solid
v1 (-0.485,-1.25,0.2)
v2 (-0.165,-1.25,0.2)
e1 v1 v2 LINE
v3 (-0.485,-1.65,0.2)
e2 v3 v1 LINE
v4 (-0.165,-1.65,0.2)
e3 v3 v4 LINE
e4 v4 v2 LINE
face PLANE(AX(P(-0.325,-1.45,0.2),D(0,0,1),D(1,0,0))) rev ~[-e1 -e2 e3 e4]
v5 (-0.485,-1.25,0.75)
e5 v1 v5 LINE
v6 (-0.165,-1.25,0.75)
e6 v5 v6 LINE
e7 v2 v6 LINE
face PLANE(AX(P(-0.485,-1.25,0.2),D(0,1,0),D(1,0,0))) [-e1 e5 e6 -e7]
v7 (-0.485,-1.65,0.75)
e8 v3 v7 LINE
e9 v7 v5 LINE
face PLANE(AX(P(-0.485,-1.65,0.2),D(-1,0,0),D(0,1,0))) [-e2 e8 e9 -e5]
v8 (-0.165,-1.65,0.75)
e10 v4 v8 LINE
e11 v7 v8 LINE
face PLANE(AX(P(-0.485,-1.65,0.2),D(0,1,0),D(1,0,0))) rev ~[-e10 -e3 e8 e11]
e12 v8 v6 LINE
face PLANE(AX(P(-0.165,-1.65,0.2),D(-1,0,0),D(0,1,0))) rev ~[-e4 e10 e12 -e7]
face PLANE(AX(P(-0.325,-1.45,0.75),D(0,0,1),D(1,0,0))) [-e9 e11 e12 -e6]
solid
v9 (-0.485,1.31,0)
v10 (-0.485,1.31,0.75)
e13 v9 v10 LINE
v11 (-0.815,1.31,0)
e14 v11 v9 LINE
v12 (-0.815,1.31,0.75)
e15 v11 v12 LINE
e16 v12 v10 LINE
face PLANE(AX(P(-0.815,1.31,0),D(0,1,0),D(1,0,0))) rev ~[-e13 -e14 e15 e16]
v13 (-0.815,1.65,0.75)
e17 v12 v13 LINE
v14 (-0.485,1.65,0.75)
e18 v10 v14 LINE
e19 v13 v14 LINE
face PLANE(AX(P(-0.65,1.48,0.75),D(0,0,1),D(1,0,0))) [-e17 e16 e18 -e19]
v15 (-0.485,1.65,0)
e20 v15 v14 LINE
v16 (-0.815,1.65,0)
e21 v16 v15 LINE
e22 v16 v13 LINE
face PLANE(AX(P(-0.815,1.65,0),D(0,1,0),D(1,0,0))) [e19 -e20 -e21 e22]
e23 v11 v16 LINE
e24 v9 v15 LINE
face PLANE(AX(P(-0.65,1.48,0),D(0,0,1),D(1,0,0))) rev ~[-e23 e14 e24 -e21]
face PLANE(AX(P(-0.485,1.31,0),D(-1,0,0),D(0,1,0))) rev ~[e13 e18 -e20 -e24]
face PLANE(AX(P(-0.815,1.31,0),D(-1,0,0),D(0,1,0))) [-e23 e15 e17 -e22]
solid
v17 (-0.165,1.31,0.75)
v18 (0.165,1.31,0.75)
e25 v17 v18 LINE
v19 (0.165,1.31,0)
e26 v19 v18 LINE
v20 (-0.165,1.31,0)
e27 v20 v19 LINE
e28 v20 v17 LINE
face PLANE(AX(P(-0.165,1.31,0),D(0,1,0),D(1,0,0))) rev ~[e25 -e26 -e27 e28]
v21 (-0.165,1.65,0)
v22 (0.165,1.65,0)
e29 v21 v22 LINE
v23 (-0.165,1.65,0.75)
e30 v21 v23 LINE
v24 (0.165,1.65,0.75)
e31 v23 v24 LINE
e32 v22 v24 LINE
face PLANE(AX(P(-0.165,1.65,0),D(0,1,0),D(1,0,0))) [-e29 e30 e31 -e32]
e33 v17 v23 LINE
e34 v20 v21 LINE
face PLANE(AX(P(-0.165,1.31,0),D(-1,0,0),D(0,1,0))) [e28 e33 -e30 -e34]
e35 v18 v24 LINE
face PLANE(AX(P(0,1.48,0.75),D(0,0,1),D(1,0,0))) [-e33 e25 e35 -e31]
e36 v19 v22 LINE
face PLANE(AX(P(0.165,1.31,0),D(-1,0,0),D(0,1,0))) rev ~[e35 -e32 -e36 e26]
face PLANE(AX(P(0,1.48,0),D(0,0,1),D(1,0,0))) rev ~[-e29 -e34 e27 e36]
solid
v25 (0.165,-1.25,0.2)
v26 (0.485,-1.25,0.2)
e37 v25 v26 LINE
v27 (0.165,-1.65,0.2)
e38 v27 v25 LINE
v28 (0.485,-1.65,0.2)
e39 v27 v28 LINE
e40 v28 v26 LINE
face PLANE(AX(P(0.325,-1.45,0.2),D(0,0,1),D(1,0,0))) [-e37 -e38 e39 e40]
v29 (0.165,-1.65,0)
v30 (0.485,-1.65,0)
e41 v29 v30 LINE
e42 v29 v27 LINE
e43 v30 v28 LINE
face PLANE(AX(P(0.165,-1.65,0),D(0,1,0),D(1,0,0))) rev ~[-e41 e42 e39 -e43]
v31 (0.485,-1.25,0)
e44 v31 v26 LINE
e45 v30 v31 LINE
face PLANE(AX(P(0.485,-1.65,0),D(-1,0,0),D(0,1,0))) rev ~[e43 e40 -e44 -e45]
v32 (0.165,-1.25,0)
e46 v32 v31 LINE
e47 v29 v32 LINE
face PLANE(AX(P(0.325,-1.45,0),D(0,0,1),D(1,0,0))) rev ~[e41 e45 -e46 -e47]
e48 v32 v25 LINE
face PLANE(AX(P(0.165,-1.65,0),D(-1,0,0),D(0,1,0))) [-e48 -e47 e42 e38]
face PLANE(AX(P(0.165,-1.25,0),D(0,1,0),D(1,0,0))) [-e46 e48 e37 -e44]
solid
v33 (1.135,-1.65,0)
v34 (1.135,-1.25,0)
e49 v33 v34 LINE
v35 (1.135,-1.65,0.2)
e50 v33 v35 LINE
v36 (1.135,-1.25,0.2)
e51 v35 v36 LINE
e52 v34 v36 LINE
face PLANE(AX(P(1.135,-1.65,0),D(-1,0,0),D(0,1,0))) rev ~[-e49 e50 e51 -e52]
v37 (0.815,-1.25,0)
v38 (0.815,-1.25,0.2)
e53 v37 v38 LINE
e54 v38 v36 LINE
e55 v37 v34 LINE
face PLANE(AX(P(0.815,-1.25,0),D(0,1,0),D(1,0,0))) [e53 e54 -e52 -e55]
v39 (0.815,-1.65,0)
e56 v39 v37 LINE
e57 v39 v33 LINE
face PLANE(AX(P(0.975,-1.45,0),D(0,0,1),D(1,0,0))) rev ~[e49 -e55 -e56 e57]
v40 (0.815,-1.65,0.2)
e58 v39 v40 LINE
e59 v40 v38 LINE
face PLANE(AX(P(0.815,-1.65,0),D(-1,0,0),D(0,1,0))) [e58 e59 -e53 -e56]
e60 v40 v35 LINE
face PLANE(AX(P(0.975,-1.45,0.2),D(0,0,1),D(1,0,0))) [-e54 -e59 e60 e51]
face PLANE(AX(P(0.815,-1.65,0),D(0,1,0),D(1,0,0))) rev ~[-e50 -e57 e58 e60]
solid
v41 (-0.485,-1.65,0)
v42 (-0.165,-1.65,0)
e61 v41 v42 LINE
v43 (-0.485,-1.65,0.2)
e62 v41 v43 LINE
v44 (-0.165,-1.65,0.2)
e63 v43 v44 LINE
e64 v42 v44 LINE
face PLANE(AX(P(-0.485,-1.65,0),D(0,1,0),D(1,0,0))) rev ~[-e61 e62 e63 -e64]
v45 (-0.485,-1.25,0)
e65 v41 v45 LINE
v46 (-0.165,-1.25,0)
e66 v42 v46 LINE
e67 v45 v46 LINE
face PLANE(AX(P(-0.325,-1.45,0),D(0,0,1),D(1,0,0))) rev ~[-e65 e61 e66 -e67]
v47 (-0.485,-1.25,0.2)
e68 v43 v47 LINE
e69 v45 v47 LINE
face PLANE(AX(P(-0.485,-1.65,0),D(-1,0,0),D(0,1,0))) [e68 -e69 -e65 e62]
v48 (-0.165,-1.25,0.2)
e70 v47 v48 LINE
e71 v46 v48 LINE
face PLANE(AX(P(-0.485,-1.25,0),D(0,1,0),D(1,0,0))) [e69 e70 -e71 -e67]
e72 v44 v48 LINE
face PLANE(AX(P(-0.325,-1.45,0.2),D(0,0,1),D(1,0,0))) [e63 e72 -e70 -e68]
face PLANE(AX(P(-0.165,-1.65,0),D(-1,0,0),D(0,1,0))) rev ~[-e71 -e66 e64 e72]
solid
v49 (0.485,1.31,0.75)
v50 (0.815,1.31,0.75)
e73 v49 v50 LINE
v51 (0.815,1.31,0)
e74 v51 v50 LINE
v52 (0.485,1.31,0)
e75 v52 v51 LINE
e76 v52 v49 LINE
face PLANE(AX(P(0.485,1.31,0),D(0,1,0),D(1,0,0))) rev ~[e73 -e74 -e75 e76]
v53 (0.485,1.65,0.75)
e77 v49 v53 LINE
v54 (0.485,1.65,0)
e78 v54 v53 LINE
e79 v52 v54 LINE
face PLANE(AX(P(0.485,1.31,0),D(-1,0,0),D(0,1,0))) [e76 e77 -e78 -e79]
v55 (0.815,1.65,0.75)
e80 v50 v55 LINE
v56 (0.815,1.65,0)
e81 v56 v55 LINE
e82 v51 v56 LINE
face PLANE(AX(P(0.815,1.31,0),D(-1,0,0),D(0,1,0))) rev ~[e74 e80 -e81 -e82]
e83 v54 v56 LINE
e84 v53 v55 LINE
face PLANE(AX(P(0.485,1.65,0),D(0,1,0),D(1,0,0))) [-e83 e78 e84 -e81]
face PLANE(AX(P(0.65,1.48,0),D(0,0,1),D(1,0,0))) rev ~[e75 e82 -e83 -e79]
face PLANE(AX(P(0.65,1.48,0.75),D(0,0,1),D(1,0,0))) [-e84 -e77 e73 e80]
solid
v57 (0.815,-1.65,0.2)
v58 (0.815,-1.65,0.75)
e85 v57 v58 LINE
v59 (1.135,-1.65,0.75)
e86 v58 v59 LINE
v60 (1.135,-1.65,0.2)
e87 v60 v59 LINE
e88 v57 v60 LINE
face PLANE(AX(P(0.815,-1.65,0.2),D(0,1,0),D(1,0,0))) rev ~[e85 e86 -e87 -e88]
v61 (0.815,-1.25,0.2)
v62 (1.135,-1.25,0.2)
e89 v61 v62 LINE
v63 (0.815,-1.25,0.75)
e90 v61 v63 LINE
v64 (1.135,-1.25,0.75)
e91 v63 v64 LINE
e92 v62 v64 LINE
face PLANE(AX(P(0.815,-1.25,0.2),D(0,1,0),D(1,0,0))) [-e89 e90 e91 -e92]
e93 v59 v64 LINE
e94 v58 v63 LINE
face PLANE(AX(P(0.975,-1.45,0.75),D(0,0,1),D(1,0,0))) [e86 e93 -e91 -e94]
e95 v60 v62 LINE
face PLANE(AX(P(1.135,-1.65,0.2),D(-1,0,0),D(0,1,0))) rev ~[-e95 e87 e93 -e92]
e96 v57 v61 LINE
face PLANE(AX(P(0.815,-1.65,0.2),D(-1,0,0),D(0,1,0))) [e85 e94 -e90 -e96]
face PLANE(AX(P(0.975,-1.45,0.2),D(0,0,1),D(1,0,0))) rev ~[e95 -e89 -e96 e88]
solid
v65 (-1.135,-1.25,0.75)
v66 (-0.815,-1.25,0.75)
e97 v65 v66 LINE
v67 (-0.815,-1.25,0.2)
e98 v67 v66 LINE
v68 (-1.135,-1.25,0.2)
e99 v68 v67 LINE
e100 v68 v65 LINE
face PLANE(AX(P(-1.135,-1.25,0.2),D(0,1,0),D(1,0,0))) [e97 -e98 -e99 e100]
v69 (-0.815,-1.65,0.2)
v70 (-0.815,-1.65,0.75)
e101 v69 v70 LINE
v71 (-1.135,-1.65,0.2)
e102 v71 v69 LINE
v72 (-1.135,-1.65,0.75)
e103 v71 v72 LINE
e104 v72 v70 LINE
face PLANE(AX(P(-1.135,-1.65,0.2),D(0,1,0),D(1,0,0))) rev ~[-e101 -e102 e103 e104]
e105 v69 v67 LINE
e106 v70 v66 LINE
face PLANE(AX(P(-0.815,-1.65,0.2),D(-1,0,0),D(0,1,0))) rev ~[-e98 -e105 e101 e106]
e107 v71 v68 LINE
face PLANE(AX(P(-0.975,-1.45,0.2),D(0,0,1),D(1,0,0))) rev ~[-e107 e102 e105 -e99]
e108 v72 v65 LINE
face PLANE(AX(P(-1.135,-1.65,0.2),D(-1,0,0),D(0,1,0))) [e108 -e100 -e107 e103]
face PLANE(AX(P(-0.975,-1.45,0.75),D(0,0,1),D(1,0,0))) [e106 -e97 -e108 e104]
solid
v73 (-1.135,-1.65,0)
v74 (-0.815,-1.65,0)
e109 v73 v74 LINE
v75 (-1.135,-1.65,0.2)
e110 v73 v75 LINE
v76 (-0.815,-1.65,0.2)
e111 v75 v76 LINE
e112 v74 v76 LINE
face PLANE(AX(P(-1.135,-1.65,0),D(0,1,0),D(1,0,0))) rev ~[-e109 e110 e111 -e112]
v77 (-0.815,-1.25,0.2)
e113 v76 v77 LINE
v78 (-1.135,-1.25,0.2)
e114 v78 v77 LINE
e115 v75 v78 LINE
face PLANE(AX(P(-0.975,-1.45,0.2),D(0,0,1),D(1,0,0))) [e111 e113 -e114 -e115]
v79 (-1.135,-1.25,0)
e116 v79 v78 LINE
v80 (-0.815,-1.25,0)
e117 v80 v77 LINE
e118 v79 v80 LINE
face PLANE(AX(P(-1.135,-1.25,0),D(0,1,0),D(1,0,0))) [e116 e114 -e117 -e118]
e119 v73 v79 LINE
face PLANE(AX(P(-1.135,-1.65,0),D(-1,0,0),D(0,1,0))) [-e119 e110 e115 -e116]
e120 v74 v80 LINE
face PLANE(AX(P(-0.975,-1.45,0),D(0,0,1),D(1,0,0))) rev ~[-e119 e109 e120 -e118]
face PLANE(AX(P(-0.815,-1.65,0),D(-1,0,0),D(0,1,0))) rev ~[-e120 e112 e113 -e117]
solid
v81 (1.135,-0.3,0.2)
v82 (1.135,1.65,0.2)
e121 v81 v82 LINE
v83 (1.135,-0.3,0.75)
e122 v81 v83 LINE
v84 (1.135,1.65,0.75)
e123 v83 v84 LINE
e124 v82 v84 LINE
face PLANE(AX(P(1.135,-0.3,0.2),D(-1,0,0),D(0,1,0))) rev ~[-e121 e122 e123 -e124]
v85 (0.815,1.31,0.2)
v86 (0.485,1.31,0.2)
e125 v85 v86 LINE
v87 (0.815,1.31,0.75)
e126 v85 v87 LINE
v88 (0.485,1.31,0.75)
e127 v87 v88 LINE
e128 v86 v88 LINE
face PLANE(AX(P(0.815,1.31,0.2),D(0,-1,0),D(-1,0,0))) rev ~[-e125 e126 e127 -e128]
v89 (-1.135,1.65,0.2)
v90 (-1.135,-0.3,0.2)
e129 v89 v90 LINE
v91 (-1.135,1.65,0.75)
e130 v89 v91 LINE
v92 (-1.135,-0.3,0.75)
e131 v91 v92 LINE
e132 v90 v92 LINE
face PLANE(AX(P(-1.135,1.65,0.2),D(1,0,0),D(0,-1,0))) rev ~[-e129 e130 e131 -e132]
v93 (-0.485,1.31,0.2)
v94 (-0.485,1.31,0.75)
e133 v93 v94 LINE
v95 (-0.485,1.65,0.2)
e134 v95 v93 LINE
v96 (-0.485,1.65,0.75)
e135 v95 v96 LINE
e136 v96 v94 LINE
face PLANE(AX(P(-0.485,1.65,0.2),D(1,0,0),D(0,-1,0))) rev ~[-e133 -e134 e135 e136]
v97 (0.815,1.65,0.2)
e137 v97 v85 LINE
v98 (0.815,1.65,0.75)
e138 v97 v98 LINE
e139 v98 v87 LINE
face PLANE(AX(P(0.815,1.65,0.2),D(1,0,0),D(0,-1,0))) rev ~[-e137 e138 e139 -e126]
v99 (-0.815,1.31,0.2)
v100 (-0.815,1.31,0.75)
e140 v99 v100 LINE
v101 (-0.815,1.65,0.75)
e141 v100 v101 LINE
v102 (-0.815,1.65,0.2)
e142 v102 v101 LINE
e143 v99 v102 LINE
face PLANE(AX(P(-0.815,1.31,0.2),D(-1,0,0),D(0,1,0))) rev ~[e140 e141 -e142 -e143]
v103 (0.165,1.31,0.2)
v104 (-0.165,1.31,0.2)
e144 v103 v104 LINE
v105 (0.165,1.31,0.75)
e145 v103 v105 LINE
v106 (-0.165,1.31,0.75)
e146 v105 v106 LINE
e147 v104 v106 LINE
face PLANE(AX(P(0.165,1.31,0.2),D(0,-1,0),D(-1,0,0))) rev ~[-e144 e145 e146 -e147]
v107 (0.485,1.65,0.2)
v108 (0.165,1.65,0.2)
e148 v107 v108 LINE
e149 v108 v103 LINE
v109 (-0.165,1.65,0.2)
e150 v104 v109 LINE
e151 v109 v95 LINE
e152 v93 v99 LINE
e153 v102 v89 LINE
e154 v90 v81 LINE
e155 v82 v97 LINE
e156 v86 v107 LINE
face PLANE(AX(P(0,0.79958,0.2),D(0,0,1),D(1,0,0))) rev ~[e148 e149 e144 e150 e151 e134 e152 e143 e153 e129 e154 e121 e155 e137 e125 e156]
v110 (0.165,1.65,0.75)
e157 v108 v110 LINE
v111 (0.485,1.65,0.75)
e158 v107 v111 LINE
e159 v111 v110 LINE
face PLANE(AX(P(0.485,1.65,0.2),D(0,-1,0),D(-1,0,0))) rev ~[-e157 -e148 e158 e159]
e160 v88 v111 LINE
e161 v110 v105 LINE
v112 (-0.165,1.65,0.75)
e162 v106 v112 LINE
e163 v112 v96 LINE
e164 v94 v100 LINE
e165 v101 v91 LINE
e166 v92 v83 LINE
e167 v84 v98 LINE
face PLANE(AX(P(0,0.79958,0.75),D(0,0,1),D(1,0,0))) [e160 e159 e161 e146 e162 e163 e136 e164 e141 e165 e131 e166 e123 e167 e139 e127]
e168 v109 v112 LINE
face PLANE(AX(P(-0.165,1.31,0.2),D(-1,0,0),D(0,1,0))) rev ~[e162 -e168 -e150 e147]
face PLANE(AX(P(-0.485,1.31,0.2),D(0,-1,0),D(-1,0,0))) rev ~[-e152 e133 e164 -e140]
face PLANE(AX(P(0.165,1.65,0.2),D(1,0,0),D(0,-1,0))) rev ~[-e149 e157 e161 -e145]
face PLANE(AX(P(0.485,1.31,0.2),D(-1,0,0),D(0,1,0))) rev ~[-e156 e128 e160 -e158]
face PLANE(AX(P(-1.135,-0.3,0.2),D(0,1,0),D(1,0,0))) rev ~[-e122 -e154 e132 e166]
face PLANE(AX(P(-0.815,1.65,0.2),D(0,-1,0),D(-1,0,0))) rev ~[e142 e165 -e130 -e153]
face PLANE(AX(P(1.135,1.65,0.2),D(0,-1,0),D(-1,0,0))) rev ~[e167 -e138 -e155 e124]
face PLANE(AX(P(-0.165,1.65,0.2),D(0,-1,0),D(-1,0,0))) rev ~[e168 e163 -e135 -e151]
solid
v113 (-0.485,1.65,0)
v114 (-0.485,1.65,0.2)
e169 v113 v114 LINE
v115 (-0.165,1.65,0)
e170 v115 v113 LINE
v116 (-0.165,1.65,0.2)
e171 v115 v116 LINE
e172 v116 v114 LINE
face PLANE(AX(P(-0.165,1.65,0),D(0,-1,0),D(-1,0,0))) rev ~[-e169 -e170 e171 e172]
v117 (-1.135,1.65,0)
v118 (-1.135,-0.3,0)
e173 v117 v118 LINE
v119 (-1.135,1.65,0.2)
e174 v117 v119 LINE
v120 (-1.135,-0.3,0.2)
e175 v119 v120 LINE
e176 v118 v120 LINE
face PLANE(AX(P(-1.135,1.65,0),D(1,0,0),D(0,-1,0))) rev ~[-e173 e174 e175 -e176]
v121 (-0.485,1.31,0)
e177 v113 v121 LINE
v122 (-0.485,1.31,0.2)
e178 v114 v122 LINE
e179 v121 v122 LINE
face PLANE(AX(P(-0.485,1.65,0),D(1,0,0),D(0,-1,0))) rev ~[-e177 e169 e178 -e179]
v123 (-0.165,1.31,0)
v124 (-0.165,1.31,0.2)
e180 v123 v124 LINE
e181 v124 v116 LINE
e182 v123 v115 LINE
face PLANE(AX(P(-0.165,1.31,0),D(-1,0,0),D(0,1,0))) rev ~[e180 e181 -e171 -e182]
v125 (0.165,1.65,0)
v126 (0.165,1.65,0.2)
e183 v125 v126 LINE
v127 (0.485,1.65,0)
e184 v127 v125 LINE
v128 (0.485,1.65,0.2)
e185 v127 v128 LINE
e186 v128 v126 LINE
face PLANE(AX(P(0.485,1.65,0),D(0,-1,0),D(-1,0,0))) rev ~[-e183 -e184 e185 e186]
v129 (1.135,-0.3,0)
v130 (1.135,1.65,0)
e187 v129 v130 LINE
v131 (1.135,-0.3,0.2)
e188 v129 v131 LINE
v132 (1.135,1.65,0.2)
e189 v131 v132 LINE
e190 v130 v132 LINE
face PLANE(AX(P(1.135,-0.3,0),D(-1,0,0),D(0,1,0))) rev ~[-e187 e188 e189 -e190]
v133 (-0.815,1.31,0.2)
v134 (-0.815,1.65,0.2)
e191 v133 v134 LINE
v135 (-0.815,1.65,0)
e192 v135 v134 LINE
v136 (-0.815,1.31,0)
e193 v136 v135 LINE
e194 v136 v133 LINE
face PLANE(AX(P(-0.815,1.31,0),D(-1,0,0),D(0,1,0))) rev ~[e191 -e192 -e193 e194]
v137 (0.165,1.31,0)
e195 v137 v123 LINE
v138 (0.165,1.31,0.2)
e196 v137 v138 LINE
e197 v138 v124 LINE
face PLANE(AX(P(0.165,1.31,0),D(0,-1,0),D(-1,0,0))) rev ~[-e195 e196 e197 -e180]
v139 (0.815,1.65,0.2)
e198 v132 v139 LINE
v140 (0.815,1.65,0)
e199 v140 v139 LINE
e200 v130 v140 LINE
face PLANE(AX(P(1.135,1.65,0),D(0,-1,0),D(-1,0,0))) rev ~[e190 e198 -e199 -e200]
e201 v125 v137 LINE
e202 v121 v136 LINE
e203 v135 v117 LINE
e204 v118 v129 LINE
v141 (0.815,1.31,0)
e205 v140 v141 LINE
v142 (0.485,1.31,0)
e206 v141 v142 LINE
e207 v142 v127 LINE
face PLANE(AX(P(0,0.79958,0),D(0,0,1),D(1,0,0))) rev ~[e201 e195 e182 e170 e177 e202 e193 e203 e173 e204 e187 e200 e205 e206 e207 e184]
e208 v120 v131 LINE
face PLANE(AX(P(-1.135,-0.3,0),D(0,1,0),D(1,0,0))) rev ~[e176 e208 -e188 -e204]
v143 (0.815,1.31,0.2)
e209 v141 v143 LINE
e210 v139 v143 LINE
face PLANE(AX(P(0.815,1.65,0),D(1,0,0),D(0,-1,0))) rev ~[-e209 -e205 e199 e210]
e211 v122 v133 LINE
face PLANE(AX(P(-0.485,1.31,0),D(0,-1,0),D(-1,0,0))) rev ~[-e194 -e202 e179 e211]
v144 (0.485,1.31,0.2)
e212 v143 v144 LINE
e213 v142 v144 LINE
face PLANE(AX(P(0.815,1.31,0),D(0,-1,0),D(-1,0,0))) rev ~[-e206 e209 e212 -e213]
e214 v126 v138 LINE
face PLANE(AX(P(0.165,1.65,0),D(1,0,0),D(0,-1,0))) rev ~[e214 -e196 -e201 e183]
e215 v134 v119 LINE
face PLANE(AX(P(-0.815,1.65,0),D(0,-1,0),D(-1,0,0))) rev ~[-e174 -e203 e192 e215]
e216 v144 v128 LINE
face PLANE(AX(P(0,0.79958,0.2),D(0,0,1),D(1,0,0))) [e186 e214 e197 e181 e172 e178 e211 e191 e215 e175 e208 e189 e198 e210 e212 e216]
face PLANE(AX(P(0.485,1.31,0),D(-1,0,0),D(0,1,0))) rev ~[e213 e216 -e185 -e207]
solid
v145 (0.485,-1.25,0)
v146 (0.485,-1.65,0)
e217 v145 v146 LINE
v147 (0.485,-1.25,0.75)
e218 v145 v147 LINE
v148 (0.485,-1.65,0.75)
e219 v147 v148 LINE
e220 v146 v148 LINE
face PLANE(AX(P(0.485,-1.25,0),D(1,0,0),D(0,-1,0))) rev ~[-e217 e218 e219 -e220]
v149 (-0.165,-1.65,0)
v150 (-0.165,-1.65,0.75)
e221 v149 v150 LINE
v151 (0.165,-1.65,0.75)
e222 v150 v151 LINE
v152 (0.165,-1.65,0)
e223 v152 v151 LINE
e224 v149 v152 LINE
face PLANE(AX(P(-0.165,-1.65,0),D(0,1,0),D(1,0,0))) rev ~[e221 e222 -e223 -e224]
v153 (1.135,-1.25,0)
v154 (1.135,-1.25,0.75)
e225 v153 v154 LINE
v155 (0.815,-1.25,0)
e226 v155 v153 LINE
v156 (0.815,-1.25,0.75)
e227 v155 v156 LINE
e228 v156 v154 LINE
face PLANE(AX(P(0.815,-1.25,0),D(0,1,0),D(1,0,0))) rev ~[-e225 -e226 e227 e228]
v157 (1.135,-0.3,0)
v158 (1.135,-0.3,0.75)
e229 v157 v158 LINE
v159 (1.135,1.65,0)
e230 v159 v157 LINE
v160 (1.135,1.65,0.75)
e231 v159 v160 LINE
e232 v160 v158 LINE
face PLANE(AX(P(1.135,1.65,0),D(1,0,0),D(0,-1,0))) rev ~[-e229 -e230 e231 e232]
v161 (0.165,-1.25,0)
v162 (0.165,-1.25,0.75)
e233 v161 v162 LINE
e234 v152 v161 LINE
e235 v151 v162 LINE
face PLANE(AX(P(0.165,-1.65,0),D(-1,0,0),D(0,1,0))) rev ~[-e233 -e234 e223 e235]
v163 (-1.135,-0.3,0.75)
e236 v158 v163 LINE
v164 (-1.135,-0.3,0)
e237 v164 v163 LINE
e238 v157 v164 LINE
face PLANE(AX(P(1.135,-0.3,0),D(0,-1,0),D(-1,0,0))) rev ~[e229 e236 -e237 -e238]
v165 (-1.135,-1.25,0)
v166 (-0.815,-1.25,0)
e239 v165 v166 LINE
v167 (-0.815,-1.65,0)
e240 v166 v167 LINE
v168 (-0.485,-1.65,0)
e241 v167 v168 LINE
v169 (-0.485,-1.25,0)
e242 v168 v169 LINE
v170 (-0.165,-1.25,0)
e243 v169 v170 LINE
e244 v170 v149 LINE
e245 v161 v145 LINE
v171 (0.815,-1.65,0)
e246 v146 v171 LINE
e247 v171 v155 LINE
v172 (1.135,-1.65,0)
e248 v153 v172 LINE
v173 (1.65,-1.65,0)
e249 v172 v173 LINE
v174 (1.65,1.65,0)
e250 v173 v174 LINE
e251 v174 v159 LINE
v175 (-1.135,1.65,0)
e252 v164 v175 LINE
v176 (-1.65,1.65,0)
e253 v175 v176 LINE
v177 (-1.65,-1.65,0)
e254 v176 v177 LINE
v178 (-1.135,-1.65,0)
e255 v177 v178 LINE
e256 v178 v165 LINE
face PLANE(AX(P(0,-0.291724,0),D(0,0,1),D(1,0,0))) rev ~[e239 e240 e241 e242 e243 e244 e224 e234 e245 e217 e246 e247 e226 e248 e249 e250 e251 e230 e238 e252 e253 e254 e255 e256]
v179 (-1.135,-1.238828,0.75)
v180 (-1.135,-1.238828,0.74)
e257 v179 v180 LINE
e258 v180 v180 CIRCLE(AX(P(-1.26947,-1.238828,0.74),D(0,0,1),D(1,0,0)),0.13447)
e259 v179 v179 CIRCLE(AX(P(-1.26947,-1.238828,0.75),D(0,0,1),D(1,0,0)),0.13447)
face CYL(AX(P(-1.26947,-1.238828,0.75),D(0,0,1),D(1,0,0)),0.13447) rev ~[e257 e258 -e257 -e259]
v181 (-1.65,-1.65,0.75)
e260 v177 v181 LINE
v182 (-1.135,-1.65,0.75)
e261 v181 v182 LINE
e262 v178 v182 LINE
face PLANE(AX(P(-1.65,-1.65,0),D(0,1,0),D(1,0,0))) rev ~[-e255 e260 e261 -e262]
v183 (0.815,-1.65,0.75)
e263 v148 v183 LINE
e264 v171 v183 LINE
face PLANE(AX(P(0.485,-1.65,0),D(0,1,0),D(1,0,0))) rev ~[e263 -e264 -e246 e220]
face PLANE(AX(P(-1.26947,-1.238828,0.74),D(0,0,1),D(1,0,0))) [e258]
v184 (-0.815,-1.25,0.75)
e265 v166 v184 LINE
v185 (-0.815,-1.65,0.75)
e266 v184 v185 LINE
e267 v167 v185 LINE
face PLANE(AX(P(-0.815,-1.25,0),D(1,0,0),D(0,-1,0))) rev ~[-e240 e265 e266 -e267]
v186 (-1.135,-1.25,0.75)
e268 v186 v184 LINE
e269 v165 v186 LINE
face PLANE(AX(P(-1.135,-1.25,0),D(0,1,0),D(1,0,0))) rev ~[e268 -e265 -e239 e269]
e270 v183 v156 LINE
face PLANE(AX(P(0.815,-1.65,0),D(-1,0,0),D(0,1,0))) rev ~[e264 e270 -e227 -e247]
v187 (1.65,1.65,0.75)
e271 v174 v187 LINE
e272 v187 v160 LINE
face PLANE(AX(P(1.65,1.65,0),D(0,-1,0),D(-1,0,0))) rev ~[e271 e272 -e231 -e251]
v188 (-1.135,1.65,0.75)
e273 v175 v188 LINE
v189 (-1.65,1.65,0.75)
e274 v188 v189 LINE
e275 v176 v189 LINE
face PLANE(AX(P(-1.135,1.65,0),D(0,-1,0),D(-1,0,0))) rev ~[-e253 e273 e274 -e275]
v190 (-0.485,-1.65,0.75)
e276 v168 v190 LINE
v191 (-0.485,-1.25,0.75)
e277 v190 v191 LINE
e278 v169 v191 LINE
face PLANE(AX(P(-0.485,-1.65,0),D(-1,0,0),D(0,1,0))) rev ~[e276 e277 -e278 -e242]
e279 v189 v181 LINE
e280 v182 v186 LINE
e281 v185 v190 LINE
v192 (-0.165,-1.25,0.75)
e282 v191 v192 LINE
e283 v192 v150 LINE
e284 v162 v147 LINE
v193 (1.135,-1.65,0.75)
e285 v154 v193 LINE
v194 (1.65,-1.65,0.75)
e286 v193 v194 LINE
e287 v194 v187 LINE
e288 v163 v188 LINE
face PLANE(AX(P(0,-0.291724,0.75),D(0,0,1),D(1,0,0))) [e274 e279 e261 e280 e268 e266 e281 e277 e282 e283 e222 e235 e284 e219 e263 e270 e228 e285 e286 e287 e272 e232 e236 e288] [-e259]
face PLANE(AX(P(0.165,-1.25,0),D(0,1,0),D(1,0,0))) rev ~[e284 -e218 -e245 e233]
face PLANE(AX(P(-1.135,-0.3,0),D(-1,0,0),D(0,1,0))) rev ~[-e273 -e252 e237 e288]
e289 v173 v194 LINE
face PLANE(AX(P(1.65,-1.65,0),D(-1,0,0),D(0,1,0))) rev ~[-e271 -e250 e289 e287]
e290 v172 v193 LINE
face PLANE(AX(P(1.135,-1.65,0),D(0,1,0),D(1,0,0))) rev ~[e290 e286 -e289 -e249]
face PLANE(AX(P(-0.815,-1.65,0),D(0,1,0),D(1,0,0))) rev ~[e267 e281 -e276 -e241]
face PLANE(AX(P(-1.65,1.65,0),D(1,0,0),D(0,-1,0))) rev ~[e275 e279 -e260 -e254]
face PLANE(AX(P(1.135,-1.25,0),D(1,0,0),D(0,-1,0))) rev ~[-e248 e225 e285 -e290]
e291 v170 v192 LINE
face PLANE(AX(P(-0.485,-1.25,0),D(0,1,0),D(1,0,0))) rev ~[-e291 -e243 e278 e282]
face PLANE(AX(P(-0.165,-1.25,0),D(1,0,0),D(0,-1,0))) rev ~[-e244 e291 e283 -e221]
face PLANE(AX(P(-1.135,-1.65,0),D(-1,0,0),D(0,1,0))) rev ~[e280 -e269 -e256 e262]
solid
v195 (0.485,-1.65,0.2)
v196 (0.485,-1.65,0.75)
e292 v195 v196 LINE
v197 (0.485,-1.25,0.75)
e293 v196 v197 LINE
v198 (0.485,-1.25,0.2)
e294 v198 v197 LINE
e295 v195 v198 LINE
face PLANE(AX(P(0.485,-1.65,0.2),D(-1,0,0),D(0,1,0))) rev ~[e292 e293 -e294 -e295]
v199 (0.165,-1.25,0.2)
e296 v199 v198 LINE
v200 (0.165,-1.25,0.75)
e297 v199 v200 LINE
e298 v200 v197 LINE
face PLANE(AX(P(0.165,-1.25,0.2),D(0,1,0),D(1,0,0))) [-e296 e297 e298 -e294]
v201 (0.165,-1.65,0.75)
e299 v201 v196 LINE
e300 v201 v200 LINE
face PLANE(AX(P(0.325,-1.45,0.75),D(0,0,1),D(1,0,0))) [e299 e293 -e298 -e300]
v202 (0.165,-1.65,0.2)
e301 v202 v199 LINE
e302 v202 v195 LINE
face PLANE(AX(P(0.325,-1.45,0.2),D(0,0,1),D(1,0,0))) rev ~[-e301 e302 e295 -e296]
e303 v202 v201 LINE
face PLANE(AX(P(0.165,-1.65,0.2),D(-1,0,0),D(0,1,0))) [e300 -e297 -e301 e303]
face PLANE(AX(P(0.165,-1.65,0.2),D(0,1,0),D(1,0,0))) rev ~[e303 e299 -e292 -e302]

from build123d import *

# Parameters (mm, degrees)
BOSS_EXTRUDE1_DEPTH   = 0.2
SKETCH1_W             = 0.32
SKETCH1_H             = 0.4
BOSS_EXTRUDE1_2_DEPTH = 0.2
BOSS_EXTRUDE1_3_DEPTH = 0.2
BOSS_EXTRUDE1_4_DEPTH = 0.2
BOSS_EXTRUDE1_5_DEPTH = 0.2
BOSS_EXTRUDE4_DEPTH   = 0.75
SKETCH1_5_W           = 0.33
SKETCH1_5_H           = 0.34
BOSS_EXTRUDE4_2_DEPTH = 0.75
BOSS_EXTRUDE4_3_DEPTH = 0.75
BOSS_EXTRUDE4_4_DEPTH = 0.75
BOSS_EXTRUDE7_START   = 0.2
BOSS_EXTRUDE7_DEPTH   = 0.55
SKETCH1_7_W           = 0.32
SKETCH1_7_H           = 0.4
BOSS_EXTRUDE7_2_DEPTH = 0.55
BOSS_EXTRUDE7_3_DEPTH = 0.55
BOSS_EXTRUDE7_4_DEPTH = 0.55
BOSS_EXTRUDE7_5_DEPTH = 0.55
SKETCH3_R             = 0.134470163
CUT_EXTRUDE1_DEPTH    = 0.01


with BuildPart() as part:
    # Sketch1 → Boss-Extrude1 (new body)
    with BuildSketch(Plane.XY):
        Polygon((-0.815, 1.65), (-1.135, 1.65), (-1.135, -0.3), (1.135, -0.3), (1.135, 1.65), (0.815, 1.65), (0.815, 1.31), (0.485, 1.31), (0.485, 1.65), (0.165, 1.65), (0.165, 1.31), (-0.165, 1.31), (-0.165, 1.65), (-0.485, 1.65), (-0.485, 1.31), (-0.815, 1.31), align=None)
    extrude(amount=BOSS_EXTRUDE1_DEPTH)


with BuildPart() as body_2:
    # Sketch1 → Boss-Extrude1 2 (new body)
    with BuildSketch(Plane.XY):
        with Locations((-0.975, -1.45)):
            Rectangle(SKETCH1_W, SKETCH1_H)
    extrude(amount=BOSS_EXTRUDE1_2_DEPTH)


with BuildPart() as body_3:
    # Sketch1 → Boss-Extrude1 3 (new body)
    with BuildSketch(Plane.XY):
        with Locations((-0.325, -1.45)):
            Rectangle(SKETCH1_W, SKETCH1_H)
    extrude(amount=BOSS_EXTRUDE1_3_DEPTH)


with BuildPart() as body_4:
    # Sketch1 → Boss-Extrude1 4 (new body)
    with BuildSketch(Plane.XY):
        with Locations((0.325, -1.45)):
            Rectangle(SKETCH1_W, SKETCH1_H)
    extrude(amount=BOSS_EXTRUDE1_4_DEPTH)


with BuildPart() as body_5:
    # Sketch1 → Boss-Extrude1 5 (new body)
    with BuildSketch(Plane.XY):
        with Locations((0.975, -1.45)):
            Rectangle(SKETCH1_W, SKETCH1_H)
    extrude(amount=BOSS_EXTRUDE1_5_DEPTH)


with BuildPart() as body_6:
    # Sketch1<5> → Boss-Extrude4 (new body)
    with BuildSketch(Plane.XY):
        Polygon((-1.65, 1.65), (-1.65, -1.65), (-1.135, -1.65), (-1.135, -1.25), (-0.815, -1.25), (-0.815, -1.65), (-0.485, -1.65), (-0.485, -1.25), (-0.165, -1.25), (-0.165, -1.65), (0.165, -1.65), (0.165, -1.25), (0.485, -1.25), (0.485, -1.65), (0.815, -1.65), (0.815, -1.25), (1.135, -1.25), (1.135, -1.65), (1.65, -1.65), (1.65, 1.65), (1.135, 1.65), (1.135, -0.3), (-1.135, -0.3), (-1.135, 1.65), align=None)
    extrude(amount=BOSS_EXTRUDE4_DEPTH)

    # Sketch3 → Cut-Extrude1 (cut)
    with BuildSketch(Plane.XY.offset(0.75)):
        with Locations((-1.269470163, -1.23882778)):
            Circle(SKETCH3_R)
    extrude(amount=-CUT_EXTRUDE1_DEPTH, mode=Mode.SUBTRACT)


with BuildPart() as body_7:
    # Sketch1<5> → Boss-Extrude4 2 (new body)
    with BuildSketch(Plane.XY):
        with Locations((0.65, 1.48)):
            Rectangle(SKETCH1_5_W, SKETCH1_5_H)
    extrude(amount=BOSS_EXTRUDE4_2_DEPTH)


with BuildPart() as body_8:
    # Sketch1<5> → Boss-Extrude4 3 (new body)
    with BuildSketch(Plane.XY):
        with Locations((-0.65, 1.48)):
            Rectangle(SKETCH1_5_W, SKETCH1_5_H)
    extrude(amount=BOSS_EXTRUDE4_3_DEPTH)


with BuildPart() as body_9:
    # Sketch1<5> → Boss-Extrude4 4 (new body)
    with BuildSketch(Plane.XY):
        with Locations((0, 1.48)):
            Rectangle(SKETCH1_5_W, SKETCH1_5_H)
    extrude(amount=BOSS_EXTRUDE4_4_DEPTH)


with BuildPart() as body_10:
    # Sketch1<7> → Boss-Extrude7 (new body)
    with BuildSketch(Plane.XY.offset(BOSS_EXTRUDE7_START)):
        Polygon((-0.815, 1.65), (-1.135, 1.65), (-1.135, -0.3), (1.135, -0.3), (1.135, 1.65), (0.815, 1.65), (0.815, 1.31), (0.485, 1.31), (0.485, 1.65), (0.165, 1.65), (0.165, 1.31), (-0.165, 1.31), (-0.165, 1.65), (-0.485, 1.65), (-0.485, 1.31), (-0.815, 1.31), align=None)
    extrude(amount=BOSS_EXTRUDE7_DEPTH)


with BuildPart() as body_11:
    # Sketch1<7> → Boss-Extrude7 2 (new body)
    with BuildSketch(Plane.XY.offset(BOSS_EXTRUDE7_START)):
        with Locations((-0.975, -1.45)):
            Rectangle(SKETCH1_7_W, SKETCH1_7_H)
    extrude(amount=BOSS_EXTRUDE7_2_DEPTH)


with BuildPart() as body_12:
    # Sketch1<7> → Boss-Extrude7 3 (new body)
    with BuildSketch(Plane.XY.offset(BOSS_EXTRUDE7_START)):
        with Locations((-0.325, -1.45)):
            Rectangle(SKETCH1_7_W, SKETCH1_7_H)
    extrude(amount=BOSS_EXTRUDE7_3_DEPTH)


with BuildPart() as body_13:
    # Sketch1<7> → Boss-Extrude7 4 (new body)
    with BuildSketch(Plane.XY.offset(BOSS_EXTRUDE7_START)):
        with Locations((0.325, -1.45)):
            Rectangle(SKETCH1_7_W, SKETCH1_7_H)
    extrude(amount=BOSS_EXTRUDE7_4_DEPTH)


with BuildPart() as body_14:
    # Sketch1<7> → Boss-Extrude7 5 (new body)
    with BuildSketch(Plane.XY.offset(BOSS_EXTRUDE7_START)):
        with Locations((0.975, -1.45)):
            Rectangle(SKETCH1_7_W, SKETCH1_7_H)
    extrude(amount=BOSS_EXTRUDE7_5_DEPTH)


solid = Compound([part.part, body_2.part, body_3.part, body_4.part, body_5.part, body_6.part, body_7.part, body_8.part, body_9.part, body_10.part, body_11.part, body_12.part, body_13.part, body_14.part])
